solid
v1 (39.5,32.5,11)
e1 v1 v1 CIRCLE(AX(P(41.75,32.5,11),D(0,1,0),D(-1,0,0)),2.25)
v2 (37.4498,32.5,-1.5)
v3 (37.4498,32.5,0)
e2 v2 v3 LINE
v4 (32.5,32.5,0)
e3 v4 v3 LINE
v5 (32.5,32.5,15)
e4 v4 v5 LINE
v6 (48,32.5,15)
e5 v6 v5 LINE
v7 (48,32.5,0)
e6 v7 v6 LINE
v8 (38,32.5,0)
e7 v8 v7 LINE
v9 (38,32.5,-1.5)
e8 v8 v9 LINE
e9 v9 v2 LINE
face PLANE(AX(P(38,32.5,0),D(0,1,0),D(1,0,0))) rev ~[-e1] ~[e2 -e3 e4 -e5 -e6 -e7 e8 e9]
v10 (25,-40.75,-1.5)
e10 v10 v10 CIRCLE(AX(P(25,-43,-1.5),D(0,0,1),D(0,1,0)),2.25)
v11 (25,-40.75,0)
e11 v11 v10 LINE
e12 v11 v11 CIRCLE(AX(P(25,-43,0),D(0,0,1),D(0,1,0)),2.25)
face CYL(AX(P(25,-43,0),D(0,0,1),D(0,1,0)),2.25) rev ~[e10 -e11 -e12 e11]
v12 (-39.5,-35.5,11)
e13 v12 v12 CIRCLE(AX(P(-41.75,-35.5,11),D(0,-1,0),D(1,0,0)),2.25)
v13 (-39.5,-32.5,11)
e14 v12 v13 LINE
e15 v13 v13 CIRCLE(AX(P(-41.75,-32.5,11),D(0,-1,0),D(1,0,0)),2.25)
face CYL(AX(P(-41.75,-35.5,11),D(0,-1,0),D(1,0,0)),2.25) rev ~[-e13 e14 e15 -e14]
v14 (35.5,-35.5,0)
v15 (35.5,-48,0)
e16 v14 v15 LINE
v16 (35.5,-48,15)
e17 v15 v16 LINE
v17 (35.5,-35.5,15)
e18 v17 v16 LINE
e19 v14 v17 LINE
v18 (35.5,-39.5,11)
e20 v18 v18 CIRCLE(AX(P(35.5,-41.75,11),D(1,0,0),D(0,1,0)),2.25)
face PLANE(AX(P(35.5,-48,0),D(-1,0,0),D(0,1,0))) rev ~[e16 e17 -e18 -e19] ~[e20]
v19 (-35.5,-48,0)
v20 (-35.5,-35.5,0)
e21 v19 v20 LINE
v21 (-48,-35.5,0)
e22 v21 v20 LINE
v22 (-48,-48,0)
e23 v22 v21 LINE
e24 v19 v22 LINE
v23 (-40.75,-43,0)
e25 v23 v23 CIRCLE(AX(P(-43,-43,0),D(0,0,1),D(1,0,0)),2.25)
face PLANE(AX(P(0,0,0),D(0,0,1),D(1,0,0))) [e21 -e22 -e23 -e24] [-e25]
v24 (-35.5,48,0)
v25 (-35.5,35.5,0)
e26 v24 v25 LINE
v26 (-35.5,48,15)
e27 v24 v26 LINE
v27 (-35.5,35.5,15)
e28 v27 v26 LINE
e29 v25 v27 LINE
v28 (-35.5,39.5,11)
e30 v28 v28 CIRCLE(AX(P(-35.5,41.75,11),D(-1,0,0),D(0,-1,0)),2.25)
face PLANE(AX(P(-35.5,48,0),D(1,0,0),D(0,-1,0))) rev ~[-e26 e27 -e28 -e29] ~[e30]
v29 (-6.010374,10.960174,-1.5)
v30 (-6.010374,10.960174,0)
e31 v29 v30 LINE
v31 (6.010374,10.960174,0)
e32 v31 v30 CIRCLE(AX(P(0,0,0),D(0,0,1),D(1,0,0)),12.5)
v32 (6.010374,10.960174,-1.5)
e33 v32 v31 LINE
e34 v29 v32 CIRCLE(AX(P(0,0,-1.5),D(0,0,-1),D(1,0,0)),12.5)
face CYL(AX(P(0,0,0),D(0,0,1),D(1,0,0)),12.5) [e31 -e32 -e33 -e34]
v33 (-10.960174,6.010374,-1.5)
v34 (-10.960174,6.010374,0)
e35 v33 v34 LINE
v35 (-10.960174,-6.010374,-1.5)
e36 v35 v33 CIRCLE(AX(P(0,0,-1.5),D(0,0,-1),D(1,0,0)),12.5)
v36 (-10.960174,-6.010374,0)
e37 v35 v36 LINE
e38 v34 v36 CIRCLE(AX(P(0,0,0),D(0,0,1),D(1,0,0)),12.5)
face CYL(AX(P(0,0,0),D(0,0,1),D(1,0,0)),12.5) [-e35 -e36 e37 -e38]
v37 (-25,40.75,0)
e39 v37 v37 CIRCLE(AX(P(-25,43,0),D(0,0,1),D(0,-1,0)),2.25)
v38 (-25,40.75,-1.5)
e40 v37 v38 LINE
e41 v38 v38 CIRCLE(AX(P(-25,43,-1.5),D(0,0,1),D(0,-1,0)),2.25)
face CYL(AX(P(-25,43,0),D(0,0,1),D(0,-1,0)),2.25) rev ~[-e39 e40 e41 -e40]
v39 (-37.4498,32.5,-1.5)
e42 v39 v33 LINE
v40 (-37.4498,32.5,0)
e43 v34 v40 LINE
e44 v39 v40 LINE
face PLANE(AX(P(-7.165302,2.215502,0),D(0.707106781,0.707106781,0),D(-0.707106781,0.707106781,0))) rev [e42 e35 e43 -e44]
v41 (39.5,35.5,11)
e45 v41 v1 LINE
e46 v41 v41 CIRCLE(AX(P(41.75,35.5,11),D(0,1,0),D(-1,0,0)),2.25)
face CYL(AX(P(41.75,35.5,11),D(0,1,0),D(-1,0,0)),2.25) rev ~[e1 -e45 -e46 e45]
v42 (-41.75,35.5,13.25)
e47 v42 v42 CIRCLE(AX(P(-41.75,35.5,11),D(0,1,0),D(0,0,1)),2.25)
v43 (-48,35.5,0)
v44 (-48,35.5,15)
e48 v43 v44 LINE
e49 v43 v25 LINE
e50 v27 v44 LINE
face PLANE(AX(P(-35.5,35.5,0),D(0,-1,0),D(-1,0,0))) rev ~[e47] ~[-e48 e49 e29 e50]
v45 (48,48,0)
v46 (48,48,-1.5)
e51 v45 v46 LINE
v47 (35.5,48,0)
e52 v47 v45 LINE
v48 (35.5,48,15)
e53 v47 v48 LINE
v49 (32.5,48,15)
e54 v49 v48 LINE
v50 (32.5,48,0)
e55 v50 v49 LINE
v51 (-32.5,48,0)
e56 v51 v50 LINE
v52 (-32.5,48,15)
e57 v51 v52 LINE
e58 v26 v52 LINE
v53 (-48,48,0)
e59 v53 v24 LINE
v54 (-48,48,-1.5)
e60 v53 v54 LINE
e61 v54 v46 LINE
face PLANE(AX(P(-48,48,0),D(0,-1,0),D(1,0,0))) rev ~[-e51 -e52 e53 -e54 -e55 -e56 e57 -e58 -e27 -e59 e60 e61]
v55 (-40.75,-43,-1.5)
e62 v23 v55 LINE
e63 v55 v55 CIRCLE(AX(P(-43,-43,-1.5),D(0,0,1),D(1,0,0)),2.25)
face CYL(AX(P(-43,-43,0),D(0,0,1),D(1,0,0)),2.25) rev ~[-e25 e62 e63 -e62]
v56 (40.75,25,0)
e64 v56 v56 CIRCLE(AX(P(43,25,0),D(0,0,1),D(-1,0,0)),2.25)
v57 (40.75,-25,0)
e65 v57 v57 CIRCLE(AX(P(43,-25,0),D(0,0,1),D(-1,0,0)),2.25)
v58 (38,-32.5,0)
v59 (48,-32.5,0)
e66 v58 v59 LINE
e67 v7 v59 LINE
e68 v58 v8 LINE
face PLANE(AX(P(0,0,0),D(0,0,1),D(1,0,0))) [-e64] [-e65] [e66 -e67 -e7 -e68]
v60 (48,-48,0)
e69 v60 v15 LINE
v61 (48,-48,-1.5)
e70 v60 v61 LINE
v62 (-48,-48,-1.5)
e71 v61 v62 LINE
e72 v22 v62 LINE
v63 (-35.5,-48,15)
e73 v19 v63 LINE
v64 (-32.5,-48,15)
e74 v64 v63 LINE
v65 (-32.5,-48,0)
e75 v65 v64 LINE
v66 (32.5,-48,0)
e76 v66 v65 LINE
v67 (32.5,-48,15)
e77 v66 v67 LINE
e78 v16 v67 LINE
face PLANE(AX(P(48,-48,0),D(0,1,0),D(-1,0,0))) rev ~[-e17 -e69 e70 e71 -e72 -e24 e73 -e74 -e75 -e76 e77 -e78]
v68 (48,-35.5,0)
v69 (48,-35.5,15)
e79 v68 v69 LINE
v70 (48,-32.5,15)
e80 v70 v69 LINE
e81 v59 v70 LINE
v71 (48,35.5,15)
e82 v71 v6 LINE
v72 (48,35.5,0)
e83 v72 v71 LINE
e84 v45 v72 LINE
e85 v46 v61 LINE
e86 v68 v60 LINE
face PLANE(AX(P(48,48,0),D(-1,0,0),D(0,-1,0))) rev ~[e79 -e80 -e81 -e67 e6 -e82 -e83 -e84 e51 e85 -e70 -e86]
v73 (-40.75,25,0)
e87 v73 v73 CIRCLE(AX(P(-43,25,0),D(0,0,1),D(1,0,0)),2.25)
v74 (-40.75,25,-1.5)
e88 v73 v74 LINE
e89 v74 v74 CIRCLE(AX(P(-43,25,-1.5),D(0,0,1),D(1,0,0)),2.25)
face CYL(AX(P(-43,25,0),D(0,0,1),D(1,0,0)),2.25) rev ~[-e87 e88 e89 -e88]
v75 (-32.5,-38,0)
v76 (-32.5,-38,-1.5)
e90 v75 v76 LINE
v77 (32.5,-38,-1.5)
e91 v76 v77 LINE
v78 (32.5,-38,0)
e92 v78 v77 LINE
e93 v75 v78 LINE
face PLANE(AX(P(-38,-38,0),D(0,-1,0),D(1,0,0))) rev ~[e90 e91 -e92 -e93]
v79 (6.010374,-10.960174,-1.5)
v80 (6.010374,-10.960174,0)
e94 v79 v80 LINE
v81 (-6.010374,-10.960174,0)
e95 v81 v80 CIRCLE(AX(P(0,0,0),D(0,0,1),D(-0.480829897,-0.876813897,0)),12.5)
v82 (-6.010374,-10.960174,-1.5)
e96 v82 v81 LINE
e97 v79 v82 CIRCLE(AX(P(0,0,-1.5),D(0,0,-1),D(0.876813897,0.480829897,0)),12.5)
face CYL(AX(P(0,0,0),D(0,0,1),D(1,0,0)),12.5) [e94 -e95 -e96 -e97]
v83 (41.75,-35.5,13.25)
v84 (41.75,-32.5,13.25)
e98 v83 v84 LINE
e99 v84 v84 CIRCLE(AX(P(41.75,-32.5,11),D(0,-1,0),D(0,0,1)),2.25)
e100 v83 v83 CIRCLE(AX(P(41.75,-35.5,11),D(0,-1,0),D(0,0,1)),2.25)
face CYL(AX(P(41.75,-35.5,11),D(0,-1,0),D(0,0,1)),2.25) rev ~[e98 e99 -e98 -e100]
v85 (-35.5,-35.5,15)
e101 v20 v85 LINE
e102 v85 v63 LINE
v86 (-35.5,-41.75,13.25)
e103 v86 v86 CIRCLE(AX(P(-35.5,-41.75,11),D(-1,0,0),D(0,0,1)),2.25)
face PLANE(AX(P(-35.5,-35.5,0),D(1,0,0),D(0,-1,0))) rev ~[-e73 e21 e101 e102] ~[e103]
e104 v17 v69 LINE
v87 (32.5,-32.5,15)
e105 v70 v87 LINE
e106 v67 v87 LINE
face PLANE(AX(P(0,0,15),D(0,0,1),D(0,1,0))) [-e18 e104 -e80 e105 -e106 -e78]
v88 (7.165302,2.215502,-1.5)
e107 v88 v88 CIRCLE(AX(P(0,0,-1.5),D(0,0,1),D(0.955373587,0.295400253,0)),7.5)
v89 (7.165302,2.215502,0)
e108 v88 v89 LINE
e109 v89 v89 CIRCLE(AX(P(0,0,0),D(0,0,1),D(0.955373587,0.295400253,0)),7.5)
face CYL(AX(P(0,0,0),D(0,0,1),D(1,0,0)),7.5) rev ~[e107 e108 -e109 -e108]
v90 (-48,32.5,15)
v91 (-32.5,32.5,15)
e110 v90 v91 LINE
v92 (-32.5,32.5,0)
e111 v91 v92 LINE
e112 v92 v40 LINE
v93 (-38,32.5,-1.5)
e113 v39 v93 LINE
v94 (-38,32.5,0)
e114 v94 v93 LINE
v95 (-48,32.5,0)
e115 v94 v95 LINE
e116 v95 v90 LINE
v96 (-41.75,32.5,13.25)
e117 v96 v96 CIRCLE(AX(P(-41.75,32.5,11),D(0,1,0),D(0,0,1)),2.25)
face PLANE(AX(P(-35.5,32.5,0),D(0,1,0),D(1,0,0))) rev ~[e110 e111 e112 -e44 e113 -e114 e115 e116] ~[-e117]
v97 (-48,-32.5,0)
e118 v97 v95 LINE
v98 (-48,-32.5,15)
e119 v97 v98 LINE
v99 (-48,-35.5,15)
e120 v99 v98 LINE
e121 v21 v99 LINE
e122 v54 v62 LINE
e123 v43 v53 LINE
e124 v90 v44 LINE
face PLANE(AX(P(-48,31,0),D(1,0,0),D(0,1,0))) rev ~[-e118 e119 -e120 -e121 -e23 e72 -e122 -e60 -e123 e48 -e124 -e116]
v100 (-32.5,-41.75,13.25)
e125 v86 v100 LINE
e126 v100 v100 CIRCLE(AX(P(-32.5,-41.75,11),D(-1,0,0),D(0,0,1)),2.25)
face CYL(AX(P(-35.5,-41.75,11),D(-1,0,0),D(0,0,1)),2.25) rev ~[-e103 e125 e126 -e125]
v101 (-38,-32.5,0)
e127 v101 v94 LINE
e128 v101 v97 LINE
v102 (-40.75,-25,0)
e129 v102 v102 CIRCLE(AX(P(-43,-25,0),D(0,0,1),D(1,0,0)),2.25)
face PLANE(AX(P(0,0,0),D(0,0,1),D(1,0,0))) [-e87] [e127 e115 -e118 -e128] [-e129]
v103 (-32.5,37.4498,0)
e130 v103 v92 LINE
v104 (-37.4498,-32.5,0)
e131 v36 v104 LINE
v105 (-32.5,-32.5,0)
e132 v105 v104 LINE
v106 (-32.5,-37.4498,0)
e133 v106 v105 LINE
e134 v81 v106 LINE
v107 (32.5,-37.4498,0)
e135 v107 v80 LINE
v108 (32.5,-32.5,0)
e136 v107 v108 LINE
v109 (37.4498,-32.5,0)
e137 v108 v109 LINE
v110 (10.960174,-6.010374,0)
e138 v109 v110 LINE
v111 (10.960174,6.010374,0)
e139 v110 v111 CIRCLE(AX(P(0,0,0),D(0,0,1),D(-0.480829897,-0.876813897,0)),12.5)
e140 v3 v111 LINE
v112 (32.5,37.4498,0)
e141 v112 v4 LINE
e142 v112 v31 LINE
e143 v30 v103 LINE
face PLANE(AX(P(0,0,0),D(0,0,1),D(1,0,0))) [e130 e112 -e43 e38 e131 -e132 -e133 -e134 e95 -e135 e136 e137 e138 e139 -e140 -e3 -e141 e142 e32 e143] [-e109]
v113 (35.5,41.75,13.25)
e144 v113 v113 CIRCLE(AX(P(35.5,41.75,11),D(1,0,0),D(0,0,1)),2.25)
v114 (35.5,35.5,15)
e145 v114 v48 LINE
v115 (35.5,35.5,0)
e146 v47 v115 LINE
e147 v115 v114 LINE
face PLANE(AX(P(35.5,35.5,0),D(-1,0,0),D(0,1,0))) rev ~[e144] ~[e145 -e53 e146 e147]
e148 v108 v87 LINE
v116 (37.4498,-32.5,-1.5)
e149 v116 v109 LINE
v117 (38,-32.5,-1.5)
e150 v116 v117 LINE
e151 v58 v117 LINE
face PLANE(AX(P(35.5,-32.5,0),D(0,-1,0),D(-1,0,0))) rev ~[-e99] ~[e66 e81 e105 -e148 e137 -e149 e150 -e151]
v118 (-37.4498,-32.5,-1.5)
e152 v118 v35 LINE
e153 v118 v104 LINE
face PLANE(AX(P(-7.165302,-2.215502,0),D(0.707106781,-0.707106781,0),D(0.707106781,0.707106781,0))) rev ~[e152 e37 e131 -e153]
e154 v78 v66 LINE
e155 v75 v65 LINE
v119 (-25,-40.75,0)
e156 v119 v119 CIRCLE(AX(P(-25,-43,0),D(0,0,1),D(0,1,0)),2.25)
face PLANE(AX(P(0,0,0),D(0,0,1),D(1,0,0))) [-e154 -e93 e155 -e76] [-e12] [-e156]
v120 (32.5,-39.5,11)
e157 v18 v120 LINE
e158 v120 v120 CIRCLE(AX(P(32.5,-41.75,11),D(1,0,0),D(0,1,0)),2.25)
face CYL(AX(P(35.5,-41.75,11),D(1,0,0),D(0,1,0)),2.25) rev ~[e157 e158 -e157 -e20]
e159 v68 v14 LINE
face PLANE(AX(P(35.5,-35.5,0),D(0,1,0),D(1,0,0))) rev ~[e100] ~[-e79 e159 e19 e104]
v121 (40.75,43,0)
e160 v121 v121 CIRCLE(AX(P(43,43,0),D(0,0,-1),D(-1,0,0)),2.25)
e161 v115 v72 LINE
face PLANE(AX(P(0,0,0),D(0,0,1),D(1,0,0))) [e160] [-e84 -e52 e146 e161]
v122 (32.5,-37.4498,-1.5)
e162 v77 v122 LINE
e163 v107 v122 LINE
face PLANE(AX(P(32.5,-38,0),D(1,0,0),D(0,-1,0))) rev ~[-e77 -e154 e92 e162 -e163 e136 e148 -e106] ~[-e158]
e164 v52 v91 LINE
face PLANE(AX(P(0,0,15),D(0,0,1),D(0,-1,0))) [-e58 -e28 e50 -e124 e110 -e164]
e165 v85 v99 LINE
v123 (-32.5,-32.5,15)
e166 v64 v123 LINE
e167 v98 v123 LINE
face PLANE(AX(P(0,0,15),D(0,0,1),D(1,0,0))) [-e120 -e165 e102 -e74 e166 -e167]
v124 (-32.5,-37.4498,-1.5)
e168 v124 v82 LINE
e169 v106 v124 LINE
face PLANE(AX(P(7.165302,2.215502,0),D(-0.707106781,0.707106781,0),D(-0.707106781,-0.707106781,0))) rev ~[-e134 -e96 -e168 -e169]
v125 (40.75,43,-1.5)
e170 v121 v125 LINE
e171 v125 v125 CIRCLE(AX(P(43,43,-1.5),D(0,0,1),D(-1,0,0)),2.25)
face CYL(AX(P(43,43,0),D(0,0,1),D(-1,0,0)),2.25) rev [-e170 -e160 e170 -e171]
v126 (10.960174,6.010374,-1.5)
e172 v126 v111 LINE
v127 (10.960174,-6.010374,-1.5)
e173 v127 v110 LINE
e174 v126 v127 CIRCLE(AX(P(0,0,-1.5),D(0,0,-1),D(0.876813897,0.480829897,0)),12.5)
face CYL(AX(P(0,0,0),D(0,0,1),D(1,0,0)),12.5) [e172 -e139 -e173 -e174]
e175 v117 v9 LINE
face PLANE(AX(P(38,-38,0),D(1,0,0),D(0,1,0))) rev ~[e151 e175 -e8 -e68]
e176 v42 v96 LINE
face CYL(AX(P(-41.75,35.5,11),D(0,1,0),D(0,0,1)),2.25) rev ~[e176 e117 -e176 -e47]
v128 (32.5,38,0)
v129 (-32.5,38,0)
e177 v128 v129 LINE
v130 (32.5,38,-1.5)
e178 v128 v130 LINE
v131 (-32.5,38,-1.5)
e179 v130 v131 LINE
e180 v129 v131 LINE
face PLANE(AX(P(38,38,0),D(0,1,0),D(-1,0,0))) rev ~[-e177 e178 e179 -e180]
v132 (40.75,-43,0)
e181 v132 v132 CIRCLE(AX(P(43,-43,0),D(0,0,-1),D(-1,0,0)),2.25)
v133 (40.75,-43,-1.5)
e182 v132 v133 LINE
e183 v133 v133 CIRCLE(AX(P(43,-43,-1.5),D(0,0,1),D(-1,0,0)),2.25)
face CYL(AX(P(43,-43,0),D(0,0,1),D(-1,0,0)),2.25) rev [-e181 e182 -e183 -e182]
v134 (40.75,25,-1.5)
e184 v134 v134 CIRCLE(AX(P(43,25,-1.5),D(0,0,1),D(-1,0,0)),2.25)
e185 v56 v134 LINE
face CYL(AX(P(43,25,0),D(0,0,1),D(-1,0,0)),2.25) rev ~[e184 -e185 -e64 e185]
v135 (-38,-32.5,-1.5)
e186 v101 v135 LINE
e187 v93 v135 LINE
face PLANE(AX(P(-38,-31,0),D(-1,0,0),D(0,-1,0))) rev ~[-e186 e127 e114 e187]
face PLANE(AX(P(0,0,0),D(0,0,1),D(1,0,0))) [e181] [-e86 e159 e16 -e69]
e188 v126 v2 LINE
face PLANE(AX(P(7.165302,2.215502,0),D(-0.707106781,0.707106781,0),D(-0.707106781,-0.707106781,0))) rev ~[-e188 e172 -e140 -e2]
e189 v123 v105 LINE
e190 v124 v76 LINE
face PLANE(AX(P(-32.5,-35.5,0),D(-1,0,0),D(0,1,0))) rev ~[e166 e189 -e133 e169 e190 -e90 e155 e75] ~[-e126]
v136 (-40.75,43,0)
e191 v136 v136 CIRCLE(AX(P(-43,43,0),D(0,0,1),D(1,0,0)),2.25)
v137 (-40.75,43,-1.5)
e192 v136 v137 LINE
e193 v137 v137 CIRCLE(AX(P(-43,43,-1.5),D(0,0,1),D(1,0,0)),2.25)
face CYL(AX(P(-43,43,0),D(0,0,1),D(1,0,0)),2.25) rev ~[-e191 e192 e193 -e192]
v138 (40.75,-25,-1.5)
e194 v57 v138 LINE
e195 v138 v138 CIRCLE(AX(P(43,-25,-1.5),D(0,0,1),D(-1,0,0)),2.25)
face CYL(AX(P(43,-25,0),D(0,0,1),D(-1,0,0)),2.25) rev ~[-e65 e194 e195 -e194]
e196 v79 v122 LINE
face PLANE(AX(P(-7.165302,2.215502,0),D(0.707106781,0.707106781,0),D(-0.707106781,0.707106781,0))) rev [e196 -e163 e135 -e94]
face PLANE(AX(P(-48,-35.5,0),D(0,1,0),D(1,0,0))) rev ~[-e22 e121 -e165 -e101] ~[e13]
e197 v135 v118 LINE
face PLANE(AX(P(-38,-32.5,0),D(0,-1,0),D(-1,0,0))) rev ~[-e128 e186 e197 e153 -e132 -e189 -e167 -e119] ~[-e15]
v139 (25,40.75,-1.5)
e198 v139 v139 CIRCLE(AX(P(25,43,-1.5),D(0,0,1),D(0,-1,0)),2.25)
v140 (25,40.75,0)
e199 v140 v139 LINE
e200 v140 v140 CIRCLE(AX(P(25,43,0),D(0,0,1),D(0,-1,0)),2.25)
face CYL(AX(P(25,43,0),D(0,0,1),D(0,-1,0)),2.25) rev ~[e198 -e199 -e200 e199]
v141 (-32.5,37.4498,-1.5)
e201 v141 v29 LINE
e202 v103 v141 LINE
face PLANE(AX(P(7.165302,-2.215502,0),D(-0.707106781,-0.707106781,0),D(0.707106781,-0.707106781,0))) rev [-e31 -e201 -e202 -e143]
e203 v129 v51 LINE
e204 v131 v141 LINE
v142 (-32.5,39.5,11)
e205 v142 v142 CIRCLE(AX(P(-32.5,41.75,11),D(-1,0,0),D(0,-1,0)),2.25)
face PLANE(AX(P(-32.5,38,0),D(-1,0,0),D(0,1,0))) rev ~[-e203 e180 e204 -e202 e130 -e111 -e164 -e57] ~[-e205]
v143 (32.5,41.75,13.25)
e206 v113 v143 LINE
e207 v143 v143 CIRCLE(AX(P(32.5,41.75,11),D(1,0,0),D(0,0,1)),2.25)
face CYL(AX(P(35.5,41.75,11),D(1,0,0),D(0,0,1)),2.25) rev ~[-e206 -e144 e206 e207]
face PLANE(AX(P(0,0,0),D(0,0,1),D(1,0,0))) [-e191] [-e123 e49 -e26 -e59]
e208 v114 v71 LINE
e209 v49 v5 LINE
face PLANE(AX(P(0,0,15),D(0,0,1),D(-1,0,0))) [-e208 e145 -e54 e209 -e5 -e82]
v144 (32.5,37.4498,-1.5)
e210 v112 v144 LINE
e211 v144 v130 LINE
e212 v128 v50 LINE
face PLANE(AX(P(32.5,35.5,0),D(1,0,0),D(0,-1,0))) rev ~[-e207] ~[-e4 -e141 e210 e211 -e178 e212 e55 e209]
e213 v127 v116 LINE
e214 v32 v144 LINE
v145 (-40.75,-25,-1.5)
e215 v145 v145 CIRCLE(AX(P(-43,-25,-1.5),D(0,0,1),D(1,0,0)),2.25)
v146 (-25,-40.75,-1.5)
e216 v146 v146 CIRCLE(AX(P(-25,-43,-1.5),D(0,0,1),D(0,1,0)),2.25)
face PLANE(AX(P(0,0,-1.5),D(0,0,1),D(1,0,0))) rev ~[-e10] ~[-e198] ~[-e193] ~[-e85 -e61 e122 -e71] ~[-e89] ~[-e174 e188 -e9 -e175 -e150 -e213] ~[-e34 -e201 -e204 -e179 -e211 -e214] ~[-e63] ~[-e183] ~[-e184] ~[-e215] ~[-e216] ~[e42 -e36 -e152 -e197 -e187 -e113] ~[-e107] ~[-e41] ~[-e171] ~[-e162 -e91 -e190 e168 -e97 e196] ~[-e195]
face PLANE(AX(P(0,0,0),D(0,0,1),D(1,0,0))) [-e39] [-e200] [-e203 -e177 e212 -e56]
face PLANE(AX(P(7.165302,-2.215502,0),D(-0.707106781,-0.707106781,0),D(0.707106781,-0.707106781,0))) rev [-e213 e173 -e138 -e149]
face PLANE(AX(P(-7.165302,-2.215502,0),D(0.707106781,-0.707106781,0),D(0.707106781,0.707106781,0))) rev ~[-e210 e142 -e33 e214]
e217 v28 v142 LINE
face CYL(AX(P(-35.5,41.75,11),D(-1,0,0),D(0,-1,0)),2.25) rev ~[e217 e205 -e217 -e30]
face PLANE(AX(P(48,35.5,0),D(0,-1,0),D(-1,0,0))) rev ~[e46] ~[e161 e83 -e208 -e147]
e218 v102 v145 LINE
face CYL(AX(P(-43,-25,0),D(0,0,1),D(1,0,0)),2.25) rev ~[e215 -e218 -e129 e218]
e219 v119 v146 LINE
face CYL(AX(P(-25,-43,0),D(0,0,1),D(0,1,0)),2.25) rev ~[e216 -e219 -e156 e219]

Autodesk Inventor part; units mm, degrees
ref_plane "YZ Plane" through (0, 0, 0) normal (1, 0, 0) x (0, 1, 0)
ref_plane "XZ Plane" through (0, 0, 0) normal (0, 1, 0) x (-1, 0, 0)
ref_plane "XY Plane" through (0, 0, 0) normal (0, 0, 1) x (1, 0, 0)
sketch "Sketch1" plane through (0, 0, 0) normal (0, 0, 1) x (1, 0, 0)
  line L0 (-48, 48) -> (48, 48)
  line L1 (48, 48) -> (48, -48)
  line L2 (48, -48) -> (-48, -48)
  line L3 (-48, -48) -> (-48, 48)
  line L4 (38, 38) -> (-38, 38)
  line L5 (-38, 38) -> (-38, -38)
  line L6 (-38, -38) -> (38, -38)
  line L7 (38, -38) -> (38, 38)
  line L8 (0, 61.066) -> (0, -72.1628) construction
  line L9 (-77.8847, 0) -> (88.8171, 0) construction
  line L10 (-48, 43) -> (48, 43) construction
  line L11 (-43, 48) -> (-43, -48) construction
  line L12 (-48, -43) -> (48, -43) construction
  circle A0 centre (-43, 25) radius 2.25
  circle A1 centre (-43, -25) radius 2.25
  circle A2 centre (-43, -43) radius 2.25
  circle A3 centre (-43, 43) radius 2.25
  line L13 (-48, 30) -> (48, 30) construction
  line L14 (-48, -30) -> (48, -30) construction
  line L15 (-50, 31) -> (-36, 31)
  line L16 (-36, 31) -> (-36, -31)
  line L17 (-36, -31) -> (-50, -31)
  line L18 (-50, -31) -> (-50, 31)
  point P0 (0, 0)
  point P1 (0, 48)
  point P2 (48, 0)
  dimension "d0" = 96
  dimension "d1" = 96
  dimension "d2" = 10
  dimension "d5" = 5
  dimension "d11" = 5
  dimension "d14" = 5
  dimension "d31" = 4.5
  dimension "d32" = 4.5
  dimension "d61" = 4.5
  dimension "d62" = 4.5
  dimension "d65" = 30
  dimension "d66" = 30
  dimension "d67" = 5
  dimension "d68" = 5
  dimension "d74" = 1
  dimension "d75" = 1
  dimension "d76" = 2
  dimension "d77" = 2
extrude "Extrusion1" add sketch "Sketch1" against normal blind 1.5 contours L0 L1 L2 L3 L17 L5 L6 L7 L4 L15 | L15 L5 L17 L3 | A0 | A1 | A2 | A3
extrude "Extrusion2" cut sketch "Sketch1" against normal blind 10 contours A2 | A3
mirror "Mirror5" about plane through (0, 0, 0) normal (1, 0, 0) of "Extrusion2"
extrude "Extrusion5" cut sketch "Sketch1" against normal blind 10 contours A0 | A1
pattern_circular "Circular Pattern2" count 4 over 360 about axis through (0, 0, -10) along (0, 0, 1) of "Extrusion5"
sketch "Sketch5" plane through (0, 0, 0) normal (0, 0, 1) x (1, 0, 0)
  line L0 (-48, -48) -> (-48, 48) projected
  line L1 (-38, -38) -> (-38, 38) projected
  line L2 (-48, -35.5) -> (-38, -35.5)
  line L3 (-38, -35.5) -> (-38, -32.5)
  line L4 (-38, -32.5) -> (-48, -32.5)
  line L5 (-48, -32.5) -> (-48, -35.5)
  line L6 (-51.6876, -22.75) -> (-34.0834, -22.75)
  line L7 (-34.0834, -22.75) -> (-34.0834, -45.25)
  line L8 (-34.0834, -45.25) -> (-51.6876, -45.25)
  line L9 (-51.6876, -45.25) -> (-51.6876, -22.75)
  circle A0 centre (-43, -25) radius 2.25 projected
  circle A1 centre (-43, -43) radius 2.25 projected
  line L10 (-22.75, -50) -> (-45.25, -50)
  line L11 (-45.25, -50) -> (-45.25, -36.2343)
  line L12 (-45.25, -36.2343) -> (-22.75, -36.2343)
  line L13 (-22.75, -36.2343) -> (-22.75, -50)
  circle A2 centre (-25, -43) radius 2.25 projected
  line L14 (38, -38) -> (-38, -38) projected
  line L15 (48, -48) -> (-48, -48) projected
  line L16 (-32.5, -38) -> (-35.5, -38)
  line L17 (-35.5, -38) -> (-35.5, -48)
  line L18 (-35.5, -48) -> (-32.5, -48)
  line L19 (-32.5, -48) -> (-32.5, -38)
  line L20 (-32.5, -32.5) -> (-38, -32.5)
  line L21 (-38, -32.5) -> (-38, -35.5)
  line L22 (-38, -35.5) -> (-32.5, -35.5)
  line L23 (-32.5, -35.5) -> (-32.5, -32.5)
  line L24 (-32.5, -35.5) -> (-35.5, -35.5)
  line L25 (-35.5, -35.5) -> (-35.5, -38)
  line L26 (-35.5, -38) -> (-32.5, -38)
  line L27 (-32.5, -38) -> (-32.5, -35.5)
  line L28 (-38, -38) -> (-35.5, -38)
  line L29 (-35.5, -38) -> (-35.5, -35.5)
  line L30 (-35.5, -35.5) -> (-38, -35.5)
  line L31 (-38, -35.5) -> (-38, -38)
  point P0 (0, 0)
  point P1 (-38, -34)
  point P2 (-34.0834, -34)
  point P3 (-34, -38)
  point P4 (-34, -36.2343)
  dimension "d95" = 3
  dimension "d96" = 3
extrude "Extrusion9" add sketch "Sketch5" along normal blind 15 contours L0 L4 L1 L2 | L1 L20 L7 L22 | L22 L7 L12 L25 | L20 L23 L22 L7 | L12 L7 L14 L25 | L22 L27 L12 L7 | L17 L8 L7 L14 L19 L15 | L17 L14 L7 L8 | L12 L27 L14 L7
extrude "Extrusion10" add sketch "Sketch5" against normal blind 1.5 contours L22 L25 L12 L1 | L1 L20 L7 L22 | L12 L25 L14 L1 | L22 L7 L12 L25 | L20 L23 L22 L7 | L12 L7 L14 L25 | L22 L27 L12 L7 | L12 L27 L14 L7
sketch "Sketch6" plane through (-48, -35.5, 15) normal (0, -1, 0) x (1, 0, 0)
  line L0 (12.5, -15) -> (12.5, 0) projected
  line L1 (0, 0) -> (12.5, 0) projected
  line L2 (0, -15) -> (0, 0) projected
  line L3 (0, -15) -> (12.5, -15) projected
  circle A0 centre (6.25, -4) radius 2.25
  point P0 (48, -15)
  dimension "d101" = 4.5
  dimension "d102" = 4
extrude "Extrusion11" cut sketch "Sketch6" against normal blind 5 contours A0
sketch "Sketch7" plane through (-35.5, -48, 0) normal (-1, 0, 0) x (0, 0, 1)
  line L0 (0, 12.5) -> (0, 0) projected
  line L1 (0, 0) -> (15, 0) projected
  line L2 (15, 12.5) -> (15, 0) projected
  line L3 (0, 12.5) -> (15, 12.5) projected
  circle A0 centre (11, 6.25) radius 2.25
  point P0 (0, 48)
  dimension "d105" = 4.5
  dimension "d106" = 4
extrude "Extrusion12" cut sketch "Sketch7" against normal blind 5 contours A0
pattern_circular "Circular Pattern3" count 4 over 360 about axis through (0, 0, -10) along (0, 0, 1) of "Extrusion9", "Extrusion10", "Extrusion11", "Extrusion12"
sketch "Sketch8" plane through (0, 0, 0) normal (0, 0, 1) x (1, 0, 0)
  line L0 (48, 48) -> (48, -48) projected
  line L1 (-48, 48) -> (48, 48) projected
  line L2 (-48, 35.5) -> (-48, 48) projected
  line L3 (-48, -48) -> (-48, 48) projected
  line L4 (48, -48) -> (-48, -48) projected
  circle A0 centre (0, 0) radius 7.5
  circle A1 centre (0, 0) radius 12.5
  line L5 (-40.4749, -35.5251) -> (35.5251, 40.4749)
  line L6 (35.5251, 40.4749) -> (40.4749, 35.5251)
  line L7 (40.4749, 35.5251) -> (-35.5251, -40.4749)
  line L8 (-35.5251, -40.4749) -> (-40.4749, -35.5251)
  line L9 (-38, -38) -> (38, 38) construction
  line L10 (-2.4749, 2.4749) -> (2.4749, -2.4749) construction
  line L11 (-32.5, 38) -> (32.5, 38) projected
  line L12 (38, 38) -> (-38, 38) projected
  line L13 (38, -38) -> (38, 38) projected
  dimension "d112" = 15
  dimension "d113" = 5
  dimension "d114" = 7
extrude "Extrusion13" add sketch "Sketch8" against normal blind 1.5 contours A0 L7 A1 | A0 L5 A1 L7 | L7 A1 L5 A0 | A0 L5 A1
extrude "Extrusion14" add sketch "Sketch8" against normal blind 1.5 contours L7 A0 L5 | A0 L5 A1 L7 | L7 A1 L5 A0 | A1 L5 L12 L13 L7 | L7 L8 L5 A1 | L13 L6 L7 | L5 L6 L12
mirror "Mirror8" about plane through (0, 0, 0) normal (0, 1, 0) of "Extrusion14"
extrude "Extrusion15" cut sketch "Sketch8" against normal blind 1.5 contours A0 L7 | L7 A0 L5 | L5 A0
equation "\"d31\" = screw"
equation "\"d32\" = screw"
equation "\"d61\" = screw"
equation "\"d62\" = screw"
equation "\"d101\" = screw"
equation "\"d105\" = screw"
equation "\"screw\" = 4.5"
properties part number "Base" material "PC/ABS Plastic"
